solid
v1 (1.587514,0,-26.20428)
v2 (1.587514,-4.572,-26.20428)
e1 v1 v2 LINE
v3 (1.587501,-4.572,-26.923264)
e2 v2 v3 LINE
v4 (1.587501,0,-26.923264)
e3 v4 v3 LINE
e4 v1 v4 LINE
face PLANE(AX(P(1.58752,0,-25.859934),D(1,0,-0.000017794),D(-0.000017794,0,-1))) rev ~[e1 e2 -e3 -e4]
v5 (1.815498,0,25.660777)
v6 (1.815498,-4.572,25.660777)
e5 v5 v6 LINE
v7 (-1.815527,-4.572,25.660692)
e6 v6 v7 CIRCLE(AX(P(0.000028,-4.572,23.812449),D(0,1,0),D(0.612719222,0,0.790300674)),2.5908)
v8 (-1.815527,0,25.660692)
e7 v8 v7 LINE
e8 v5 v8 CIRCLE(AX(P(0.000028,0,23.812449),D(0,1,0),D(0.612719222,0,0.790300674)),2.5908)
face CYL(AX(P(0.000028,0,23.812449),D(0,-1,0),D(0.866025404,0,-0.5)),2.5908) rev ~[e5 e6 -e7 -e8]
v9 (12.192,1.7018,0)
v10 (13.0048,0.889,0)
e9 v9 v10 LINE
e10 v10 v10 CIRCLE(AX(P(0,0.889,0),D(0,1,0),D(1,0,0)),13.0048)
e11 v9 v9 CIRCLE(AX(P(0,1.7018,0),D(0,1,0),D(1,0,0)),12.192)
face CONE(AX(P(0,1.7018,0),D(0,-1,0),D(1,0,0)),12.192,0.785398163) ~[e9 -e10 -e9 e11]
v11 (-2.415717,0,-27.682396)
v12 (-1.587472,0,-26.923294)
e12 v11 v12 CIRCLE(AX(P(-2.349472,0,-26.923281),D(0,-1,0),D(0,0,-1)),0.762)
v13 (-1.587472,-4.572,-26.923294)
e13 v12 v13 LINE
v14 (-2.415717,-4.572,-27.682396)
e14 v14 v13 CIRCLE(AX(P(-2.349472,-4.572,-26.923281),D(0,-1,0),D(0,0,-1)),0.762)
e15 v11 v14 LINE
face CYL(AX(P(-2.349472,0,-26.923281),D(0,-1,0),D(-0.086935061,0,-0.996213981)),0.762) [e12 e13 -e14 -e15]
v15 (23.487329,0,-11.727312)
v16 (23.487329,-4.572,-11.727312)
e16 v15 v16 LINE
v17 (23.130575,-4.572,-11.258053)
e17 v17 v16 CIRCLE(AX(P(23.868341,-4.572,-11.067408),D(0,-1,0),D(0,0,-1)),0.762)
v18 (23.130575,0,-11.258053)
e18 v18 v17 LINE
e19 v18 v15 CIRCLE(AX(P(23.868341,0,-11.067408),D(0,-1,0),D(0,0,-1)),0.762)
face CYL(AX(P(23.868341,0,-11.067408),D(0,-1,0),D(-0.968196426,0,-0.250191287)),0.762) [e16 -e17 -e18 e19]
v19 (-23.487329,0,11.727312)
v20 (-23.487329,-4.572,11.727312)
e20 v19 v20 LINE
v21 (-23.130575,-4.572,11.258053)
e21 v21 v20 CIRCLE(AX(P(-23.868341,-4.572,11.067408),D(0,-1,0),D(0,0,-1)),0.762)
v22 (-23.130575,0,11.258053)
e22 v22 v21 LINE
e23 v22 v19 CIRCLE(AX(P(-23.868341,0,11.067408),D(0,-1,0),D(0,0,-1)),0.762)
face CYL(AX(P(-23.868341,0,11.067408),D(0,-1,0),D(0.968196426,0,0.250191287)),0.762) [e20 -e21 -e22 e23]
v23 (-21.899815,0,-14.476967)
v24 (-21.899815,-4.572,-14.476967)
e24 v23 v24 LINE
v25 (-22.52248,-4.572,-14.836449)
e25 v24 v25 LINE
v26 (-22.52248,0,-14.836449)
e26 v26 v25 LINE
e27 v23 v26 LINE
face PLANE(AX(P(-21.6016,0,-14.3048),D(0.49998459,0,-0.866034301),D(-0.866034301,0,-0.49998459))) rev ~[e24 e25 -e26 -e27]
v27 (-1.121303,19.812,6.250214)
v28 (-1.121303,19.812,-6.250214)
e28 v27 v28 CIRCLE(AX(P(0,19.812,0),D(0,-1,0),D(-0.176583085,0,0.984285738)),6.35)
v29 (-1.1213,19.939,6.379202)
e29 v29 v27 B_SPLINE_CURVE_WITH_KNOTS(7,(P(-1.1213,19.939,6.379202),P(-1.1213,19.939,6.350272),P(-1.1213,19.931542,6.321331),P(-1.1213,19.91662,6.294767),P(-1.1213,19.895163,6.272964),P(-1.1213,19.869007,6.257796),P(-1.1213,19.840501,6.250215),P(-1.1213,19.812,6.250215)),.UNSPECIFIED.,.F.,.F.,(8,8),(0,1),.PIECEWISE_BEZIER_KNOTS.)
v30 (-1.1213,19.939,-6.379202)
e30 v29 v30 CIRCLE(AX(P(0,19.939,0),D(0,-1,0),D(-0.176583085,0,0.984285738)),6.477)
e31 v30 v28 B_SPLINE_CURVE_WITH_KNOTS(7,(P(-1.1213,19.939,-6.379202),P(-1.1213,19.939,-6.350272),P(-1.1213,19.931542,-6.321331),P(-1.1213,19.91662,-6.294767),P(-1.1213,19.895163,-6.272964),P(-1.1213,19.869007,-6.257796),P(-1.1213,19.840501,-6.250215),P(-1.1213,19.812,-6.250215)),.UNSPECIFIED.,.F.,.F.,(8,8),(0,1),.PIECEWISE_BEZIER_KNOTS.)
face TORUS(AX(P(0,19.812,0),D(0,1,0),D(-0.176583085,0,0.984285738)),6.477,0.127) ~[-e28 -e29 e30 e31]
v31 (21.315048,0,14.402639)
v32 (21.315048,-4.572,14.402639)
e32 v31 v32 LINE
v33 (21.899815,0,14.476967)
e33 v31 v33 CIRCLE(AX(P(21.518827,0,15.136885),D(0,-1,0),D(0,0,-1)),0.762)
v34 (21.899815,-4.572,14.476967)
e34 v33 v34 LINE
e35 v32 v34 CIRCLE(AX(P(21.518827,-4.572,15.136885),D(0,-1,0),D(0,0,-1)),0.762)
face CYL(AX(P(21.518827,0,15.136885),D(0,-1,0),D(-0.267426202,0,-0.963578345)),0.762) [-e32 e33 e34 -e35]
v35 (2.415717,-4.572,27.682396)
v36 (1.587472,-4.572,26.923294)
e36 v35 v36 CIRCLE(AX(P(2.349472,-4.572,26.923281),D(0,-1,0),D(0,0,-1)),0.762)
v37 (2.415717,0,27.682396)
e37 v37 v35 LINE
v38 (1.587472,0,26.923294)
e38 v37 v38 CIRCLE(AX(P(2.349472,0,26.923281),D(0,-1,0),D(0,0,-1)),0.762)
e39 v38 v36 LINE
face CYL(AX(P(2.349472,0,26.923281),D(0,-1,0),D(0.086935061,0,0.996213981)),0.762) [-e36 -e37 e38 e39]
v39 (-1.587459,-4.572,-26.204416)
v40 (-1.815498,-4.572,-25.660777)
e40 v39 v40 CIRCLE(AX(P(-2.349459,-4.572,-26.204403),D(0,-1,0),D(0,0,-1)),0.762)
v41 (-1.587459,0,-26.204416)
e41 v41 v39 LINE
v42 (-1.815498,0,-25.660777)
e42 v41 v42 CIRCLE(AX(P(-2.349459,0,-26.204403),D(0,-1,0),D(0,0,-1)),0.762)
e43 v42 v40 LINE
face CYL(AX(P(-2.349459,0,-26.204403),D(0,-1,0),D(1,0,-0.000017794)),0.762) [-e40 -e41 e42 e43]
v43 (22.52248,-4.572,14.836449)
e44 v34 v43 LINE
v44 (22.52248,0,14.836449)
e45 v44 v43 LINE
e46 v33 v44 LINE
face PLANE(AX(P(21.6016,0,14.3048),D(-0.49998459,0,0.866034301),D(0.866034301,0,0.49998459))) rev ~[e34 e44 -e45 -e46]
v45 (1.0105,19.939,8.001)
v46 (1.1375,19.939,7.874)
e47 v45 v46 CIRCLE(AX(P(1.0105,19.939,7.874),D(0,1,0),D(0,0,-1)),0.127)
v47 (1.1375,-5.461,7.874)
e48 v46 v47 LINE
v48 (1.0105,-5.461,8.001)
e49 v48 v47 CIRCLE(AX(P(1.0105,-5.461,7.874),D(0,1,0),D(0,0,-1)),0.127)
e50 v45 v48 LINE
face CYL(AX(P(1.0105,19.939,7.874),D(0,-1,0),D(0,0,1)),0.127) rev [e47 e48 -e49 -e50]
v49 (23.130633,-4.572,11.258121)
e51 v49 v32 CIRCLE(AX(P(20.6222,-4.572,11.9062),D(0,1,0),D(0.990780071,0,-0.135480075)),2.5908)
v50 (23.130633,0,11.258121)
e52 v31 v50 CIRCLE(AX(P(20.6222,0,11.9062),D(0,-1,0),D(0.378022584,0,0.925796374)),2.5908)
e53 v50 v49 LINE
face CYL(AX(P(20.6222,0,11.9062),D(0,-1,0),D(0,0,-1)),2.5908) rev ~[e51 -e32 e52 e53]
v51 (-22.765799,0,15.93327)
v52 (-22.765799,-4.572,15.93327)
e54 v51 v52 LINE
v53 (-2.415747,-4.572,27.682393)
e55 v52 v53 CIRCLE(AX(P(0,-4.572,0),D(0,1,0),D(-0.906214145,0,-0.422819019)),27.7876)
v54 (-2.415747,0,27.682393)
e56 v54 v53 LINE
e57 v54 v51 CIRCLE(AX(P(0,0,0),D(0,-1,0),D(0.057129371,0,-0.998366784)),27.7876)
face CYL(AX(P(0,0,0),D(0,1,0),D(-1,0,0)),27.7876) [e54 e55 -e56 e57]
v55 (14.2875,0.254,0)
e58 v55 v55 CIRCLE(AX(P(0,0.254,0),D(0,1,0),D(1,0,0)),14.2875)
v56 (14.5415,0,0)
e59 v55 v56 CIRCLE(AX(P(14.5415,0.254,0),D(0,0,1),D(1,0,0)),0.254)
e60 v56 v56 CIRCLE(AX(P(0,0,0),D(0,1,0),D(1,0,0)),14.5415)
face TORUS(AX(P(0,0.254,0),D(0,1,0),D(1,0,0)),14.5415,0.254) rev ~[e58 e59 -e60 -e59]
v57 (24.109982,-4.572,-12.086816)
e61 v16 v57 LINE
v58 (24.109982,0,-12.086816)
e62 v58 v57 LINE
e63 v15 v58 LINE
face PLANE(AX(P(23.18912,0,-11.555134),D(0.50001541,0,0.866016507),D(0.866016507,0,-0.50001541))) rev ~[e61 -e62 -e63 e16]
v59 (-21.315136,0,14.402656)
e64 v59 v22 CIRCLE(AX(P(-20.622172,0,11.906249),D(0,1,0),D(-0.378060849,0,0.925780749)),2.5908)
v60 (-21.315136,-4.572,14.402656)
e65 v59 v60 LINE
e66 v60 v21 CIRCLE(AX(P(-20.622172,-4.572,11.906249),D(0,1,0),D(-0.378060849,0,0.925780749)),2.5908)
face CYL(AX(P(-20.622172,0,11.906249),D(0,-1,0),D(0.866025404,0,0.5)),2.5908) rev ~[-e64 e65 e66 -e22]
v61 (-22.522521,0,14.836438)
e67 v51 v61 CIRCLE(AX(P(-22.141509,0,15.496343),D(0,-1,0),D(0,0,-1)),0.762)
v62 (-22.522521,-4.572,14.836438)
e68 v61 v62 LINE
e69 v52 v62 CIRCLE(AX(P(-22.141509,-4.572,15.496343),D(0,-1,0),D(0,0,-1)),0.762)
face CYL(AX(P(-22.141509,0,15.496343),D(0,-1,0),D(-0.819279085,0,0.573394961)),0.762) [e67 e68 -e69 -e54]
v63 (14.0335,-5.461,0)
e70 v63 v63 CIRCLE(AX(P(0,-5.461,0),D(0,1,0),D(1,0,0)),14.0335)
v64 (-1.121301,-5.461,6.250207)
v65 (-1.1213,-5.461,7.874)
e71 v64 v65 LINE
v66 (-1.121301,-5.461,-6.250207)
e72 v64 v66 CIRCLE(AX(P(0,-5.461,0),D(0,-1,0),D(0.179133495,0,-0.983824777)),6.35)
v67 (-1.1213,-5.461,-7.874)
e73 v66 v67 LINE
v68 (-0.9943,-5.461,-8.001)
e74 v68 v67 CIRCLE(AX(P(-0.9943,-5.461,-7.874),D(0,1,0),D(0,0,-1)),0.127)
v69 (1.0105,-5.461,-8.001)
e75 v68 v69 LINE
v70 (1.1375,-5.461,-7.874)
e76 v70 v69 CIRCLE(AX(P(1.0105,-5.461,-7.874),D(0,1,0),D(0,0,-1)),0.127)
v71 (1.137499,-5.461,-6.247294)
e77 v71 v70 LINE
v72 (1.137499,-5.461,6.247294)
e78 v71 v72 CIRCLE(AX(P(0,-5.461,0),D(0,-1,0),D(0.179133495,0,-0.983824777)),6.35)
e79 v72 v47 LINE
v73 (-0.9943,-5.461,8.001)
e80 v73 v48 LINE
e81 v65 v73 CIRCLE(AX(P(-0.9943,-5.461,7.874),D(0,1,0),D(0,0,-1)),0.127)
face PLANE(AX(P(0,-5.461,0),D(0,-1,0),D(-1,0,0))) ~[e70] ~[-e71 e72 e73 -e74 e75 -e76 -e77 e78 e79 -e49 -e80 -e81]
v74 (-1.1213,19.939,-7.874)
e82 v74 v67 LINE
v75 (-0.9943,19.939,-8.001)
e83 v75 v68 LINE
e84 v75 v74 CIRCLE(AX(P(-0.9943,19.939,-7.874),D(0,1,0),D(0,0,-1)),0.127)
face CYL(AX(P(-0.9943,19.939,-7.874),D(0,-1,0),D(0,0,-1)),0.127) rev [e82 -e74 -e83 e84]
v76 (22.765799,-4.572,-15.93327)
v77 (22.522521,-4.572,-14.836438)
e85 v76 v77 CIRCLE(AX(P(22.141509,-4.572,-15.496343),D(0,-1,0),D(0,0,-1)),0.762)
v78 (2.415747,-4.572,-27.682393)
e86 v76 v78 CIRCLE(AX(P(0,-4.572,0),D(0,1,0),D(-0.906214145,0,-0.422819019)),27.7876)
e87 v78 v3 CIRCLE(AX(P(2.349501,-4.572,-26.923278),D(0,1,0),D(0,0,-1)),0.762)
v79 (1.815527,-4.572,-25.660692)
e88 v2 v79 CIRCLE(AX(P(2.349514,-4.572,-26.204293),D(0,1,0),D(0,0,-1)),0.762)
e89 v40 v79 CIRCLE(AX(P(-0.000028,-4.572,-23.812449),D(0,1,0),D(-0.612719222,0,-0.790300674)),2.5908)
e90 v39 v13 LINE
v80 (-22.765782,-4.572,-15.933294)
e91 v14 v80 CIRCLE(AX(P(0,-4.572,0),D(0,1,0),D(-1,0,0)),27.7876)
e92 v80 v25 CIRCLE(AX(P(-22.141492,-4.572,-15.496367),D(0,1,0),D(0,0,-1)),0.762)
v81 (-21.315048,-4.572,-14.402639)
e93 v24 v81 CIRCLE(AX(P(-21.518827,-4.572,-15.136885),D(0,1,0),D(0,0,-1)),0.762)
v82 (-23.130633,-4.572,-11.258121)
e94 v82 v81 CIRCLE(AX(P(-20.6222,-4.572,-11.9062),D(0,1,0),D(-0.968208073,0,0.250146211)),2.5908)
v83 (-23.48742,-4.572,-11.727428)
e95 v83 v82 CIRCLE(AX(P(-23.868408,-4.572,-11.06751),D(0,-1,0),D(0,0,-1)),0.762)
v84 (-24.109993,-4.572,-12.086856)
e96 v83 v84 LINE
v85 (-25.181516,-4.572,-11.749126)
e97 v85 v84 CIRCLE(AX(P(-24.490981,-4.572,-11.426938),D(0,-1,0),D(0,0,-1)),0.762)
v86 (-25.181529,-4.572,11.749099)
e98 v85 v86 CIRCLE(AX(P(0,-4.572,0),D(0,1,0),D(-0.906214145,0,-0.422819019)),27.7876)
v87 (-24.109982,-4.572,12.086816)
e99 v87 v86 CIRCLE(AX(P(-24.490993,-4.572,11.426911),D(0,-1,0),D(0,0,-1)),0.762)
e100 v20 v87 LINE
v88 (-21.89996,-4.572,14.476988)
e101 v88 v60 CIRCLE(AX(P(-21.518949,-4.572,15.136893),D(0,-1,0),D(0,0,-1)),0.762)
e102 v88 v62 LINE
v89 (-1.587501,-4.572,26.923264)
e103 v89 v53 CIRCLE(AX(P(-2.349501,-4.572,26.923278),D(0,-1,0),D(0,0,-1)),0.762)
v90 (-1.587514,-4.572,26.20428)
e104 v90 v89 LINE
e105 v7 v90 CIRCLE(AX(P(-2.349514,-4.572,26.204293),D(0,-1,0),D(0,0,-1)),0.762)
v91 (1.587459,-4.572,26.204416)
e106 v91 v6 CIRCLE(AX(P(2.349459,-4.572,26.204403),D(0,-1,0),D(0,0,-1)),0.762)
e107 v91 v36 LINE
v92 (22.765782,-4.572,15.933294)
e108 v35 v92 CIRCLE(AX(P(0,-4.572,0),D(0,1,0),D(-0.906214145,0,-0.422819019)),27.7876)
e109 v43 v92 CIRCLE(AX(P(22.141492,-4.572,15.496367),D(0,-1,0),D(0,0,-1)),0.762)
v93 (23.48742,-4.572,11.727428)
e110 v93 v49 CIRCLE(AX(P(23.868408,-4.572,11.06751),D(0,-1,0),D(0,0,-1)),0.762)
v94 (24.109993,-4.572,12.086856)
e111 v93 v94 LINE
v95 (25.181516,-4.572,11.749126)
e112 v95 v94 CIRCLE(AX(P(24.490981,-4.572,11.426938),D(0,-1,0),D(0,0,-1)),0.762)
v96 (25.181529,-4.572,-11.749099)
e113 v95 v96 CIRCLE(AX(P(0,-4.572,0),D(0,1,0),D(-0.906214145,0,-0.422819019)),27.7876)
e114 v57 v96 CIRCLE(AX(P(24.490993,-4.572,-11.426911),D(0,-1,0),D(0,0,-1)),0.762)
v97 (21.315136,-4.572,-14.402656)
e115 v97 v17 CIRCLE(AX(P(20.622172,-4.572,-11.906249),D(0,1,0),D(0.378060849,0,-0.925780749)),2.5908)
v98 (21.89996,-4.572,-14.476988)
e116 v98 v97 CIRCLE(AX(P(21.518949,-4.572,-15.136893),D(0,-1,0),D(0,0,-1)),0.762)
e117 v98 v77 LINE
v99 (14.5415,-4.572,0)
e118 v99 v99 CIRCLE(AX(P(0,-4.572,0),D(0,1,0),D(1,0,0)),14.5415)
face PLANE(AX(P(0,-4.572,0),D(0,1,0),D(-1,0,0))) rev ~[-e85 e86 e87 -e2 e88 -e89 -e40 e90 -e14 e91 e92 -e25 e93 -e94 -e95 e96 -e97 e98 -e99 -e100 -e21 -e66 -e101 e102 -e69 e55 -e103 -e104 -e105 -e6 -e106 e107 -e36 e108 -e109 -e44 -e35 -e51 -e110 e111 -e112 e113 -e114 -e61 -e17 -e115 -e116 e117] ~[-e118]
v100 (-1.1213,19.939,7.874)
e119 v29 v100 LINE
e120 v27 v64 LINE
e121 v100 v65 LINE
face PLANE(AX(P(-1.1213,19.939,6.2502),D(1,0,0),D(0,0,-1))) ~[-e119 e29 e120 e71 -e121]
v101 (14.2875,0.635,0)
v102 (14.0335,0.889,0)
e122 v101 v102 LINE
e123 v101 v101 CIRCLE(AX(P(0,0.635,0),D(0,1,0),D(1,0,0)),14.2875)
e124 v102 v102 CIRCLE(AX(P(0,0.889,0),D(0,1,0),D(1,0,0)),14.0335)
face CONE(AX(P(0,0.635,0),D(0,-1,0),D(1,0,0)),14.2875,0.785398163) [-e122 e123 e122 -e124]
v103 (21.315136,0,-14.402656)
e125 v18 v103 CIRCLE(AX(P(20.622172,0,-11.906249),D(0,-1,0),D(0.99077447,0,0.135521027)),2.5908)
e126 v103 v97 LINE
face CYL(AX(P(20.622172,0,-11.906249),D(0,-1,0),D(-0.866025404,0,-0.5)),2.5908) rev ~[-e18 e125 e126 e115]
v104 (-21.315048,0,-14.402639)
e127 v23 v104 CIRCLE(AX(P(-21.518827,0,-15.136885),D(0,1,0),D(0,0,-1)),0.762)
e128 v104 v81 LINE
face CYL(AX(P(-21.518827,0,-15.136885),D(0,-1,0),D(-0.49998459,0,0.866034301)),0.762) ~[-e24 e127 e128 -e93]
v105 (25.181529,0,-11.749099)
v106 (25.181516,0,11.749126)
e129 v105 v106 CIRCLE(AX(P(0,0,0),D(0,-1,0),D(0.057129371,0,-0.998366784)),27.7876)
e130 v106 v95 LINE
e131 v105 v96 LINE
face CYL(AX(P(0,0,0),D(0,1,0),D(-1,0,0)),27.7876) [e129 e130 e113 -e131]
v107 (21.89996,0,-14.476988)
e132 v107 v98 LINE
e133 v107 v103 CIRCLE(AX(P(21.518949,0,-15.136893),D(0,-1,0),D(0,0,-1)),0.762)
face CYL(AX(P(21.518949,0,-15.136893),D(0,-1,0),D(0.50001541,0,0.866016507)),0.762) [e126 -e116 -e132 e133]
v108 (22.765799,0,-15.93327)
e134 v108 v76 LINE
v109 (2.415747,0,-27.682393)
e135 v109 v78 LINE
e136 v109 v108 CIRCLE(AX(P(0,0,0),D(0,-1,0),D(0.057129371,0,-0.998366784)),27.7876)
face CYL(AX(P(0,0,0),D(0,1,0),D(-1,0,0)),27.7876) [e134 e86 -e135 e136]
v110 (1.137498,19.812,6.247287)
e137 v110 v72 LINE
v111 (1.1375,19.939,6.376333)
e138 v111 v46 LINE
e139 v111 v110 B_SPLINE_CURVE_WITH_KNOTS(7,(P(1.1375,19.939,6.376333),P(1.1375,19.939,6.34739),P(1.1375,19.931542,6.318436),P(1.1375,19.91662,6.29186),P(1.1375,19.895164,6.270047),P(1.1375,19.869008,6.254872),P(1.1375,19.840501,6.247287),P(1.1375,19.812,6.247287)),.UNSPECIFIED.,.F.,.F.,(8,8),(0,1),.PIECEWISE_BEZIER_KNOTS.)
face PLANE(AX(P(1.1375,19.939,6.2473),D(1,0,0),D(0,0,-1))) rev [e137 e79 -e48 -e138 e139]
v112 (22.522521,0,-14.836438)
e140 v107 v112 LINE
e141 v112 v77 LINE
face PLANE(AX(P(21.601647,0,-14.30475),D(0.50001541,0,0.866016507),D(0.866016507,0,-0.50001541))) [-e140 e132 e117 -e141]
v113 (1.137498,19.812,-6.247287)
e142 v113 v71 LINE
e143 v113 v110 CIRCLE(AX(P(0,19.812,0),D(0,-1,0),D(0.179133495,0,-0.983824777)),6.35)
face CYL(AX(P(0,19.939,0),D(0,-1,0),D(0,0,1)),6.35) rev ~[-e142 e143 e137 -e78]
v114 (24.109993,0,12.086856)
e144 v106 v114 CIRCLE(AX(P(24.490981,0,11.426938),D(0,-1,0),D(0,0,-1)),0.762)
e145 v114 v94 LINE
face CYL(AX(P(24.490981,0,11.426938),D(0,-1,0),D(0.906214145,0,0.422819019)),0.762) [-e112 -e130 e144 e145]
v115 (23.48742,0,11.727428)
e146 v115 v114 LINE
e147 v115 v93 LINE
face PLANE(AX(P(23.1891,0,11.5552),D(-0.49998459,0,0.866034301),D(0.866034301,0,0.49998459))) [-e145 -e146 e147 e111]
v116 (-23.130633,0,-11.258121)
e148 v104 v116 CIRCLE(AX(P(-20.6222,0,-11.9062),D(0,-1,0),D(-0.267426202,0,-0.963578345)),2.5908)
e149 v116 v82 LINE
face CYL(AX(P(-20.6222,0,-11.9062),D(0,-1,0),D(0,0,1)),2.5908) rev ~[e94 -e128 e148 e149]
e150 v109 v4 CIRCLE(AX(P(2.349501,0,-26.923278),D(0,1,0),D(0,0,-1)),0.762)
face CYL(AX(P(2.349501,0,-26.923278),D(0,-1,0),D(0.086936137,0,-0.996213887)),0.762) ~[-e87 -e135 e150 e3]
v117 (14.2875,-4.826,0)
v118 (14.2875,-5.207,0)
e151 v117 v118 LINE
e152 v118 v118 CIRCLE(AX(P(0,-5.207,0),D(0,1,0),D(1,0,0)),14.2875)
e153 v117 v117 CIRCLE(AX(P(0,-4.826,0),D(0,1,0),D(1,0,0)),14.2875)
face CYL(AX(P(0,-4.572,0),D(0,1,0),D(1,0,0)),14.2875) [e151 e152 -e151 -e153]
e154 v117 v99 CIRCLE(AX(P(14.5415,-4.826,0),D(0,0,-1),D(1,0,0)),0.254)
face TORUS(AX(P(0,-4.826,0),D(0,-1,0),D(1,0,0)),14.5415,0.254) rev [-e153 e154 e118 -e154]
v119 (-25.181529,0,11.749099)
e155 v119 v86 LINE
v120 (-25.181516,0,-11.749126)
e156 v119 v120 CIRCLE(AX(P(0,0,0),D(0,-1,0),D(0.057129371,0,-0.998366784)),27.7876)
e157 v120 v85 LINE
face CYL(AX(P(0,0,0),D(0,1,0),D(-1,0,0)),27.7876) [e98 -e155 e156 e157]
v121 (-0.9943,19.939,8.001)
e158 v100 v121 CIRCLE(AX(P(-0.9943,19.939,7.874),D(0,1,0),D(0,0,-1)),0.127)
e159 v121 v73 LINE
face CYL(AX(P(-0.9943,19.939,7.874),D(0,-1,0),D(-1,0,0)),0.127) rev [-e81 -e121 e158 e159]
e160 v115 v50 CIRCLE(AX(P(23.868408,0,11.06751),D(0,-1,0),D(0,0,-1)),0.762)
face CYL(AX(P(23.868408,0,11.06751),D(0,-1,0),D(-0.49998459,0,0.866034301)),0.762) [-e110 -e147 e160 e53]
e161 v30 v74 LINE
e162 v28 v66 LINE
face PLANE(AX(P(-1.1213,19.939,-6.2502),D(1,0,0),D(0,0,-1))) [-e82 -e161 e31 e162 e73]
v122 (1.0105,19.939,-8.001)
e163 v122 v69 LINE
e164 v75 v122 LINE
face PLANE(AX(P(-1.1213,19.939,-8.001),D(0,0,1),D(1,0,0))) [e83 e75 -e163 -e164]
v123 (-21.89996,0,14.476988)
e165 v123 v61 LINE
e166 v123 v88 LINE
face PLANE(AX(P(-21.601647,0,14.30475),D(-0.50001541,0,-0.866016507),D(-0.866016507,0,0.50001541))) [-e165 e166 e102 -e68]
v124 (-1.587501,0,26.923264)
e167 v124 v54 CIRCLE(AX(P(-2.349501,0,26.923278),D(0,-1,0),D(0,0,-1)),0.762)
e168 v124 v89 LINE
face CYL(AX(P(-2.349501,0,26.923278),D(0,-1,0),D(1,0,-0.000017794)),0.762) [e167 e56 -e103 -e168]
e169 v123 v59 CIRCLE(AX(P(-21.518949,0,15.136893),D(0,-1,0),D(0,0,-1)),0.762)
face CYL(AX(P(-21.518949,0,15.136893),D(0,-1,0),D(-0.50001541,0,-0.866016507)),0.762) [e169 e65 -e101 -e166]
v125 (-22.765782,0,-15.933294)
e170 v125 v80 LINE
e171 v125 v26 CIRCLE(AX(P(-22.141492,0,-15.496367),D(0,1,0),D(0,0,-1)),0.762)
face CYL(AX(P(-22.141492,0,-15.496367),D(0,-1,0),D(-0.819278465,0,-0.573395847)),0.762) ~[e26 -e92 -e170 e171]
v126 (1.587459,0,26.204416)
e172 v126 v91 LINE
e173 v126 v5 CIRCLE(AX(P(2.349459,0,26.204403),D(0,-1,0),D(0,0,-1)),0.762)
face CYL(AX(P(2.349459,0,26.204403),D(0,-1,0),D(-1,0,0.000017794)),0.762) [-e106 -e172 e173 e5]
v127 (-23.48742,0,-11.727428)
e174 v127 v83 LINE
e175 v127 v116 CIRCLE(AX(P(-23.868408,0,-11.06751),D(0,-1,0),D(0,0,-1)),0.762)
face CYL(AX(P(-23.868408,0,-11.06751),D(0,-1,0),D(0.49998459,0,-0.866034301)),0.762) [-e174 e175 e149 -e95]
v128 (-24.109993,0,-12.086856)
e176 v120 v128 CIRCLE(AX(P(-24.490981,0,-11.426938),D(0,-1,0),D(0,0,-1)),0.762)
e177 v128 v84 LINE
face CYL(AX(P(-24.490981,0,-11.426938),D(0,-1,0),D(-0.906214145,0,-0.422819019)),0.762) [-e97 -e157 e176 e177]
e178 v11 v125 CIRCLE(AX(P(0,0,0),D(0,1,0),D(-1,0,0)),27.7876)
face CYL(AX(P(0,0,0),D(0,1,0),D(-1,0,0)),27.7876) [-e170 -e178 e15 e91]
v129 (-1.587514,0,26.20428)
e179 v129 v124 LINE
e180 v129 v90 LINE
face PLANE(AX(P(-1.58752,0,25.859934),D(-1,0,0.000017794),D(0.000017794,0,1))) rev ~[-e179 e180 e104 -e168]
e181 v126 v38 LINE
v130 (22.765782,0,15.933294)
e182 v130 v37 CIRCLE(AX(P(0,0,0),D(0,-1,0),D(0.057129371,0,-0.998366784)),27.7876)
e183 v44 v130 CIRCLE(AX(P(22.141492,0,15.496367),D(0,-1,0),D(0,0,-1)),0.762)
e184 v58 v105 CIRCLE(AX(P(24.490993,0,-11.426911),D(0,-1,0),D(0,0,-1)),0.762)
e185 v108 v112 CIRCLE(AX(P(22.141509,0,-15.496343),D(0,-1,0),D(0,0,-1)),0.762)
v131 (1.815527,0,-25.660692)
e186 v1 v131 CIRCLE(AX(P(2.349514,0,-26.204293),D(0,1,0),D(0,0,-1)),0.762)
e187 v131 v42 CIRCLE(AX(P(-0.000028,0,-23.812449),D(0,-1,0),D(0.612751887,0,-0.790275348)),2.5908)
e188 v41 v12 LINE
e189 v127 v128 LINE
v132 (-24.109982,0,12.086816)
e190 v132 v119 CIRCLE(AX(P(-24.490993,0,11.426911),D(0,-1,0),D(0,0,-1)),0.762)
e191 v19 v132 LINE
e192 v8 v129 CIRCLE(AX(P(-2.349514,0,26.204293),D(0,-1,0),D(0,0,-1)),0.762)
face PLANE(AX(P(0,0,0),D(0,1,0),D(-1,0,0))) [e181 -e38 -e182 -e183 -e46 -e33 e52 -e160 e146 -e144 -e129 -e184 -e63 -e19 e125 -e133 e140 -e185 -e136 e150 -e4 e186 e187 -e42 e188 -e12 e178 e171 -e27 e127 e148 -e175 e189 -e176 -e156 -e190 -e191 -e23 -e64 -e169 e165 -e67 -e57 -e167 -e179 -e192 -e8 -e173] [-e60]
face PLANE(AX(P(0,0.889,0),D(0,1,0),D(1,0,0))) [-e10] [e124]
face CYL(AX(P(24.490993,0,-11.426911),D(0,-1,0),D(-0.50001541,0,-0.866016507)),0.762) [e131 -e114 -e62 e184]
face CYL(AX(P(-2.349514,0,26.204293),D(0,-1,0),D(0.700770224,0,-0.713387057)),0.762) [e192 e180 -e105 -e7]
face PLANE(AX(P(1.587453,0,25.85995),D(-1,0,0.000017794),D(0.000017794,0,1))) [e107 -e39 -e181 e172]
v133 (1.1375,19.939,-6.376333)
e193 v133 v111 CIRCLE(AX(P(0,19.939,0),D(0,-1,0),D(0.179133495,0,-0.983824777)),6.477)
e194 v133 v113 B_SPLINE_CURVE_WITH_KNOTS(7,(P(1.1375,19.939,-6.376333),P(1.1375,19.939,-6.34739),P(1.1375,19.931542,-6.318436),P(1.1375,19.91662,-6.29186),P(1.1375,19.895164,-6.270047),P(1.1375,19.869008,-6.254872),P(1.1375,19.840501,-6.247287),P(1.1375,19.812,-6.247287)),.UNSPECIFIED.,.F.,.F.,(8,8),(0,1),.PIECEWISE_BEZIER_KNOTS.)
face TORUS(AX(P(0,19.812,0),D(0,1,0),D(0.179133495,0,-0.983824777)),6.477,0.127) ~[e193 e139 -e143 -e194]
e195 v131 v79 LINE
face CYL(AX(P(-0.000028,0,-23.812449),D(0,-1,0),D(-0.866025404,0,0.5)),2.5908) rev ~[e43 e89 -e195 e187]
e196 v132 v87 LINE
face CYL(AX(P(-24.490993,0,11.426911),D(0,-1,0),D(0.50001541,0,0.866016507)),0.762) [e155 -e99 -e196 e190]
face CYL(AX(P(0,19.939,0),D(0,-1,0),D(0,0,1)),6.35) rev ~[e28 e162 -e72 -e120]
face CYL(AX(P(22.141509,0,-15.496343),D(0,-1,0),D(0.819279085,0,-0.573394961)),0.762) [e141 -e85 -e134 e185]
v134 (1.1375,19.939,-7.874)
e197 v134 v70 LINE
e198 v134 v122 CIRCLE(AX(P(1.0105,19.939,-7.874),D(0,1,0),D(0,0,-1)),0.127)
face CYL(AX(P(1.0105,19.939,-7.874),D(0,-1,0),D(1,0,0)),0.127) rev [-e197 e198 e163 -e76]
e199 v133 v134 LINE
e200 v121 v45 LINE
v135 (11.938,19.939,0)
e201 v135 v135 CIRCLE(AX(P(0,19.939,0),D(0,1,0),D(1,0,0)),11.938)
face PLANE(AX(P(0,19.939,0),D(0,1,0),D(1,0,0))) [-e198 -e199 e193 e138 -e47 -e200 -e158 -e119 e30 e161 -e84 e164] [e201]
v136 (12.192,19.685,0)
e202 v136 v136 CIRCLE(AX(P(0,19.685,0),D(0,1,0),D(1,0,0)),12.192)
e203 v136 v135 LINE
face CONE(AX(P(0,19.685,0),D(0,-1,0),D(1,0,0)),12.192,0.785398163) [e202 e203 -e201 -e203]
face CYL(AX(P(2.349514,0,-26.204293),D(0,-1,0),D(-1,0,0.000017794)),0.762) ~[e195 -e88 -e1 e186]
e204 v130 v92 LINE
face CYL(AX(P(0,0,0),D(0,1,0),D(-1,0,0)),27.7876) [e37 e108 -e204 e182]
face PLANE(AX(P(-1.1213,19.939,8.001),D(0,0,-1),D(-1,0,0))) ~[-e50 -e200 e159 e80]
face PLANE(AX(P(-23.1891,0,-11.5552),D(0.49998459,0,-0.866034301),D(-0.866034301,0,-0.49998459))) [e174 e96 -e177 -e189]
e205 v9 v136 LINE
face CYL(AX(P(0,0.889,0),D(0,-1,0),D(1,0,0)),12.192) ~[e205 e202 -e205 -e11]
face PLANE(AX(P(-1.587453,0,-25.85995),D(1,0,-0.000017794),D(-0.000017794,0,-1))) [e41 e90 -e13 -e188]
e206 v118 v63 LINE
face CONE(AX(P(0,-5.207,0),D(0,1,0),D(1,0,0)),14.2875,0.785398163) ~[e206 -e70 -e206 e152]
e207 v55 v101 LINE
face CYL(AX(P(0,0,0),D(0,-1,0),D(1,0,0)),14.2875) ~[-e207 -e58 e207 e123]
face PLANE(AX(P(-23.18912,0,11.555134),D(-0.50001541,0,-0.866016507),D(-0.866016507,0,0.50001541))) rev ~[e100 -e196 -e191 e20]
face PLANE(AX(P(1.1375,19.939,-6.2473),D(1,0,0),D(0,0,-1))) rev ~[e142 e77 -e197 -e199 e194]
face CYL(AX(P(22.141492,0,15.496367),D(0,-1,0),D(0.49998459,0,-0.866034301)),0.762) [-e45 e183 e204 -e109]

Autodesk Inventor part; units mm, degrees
ref_plane "YZ Plane" through (0, 0, 0) normal (1, 0, 0) x (0, 1, 0)
ref_plane "XZ Plane" through (0, 0, 0) normal (0, 1, 0) x (-1, 0, 0)
sketch "Sketch1" plane through (0, 0, 0) normal (0, 1, 0) x (-1, 0, 0)
  circle A0 centre (0, 0) radius 27.7876
  circle A1 centre (0, 0) radius 23.8125 construction
  line L0 (0, 0) -> (28.7391, -16.5925) construction
  line L1 (0, 0) -> (27.7876, 0) construction
  dimension "d0" = 55.5752
  dimension "d1" = 47.625
  dimension "d2" = 30
extrude "Extrusion1" add sketch "Sketch1" against normal blind 4.572
sketch "Sketch2" plane through (0, 0, 0) normal (0, 1, 0) x (1, 0, 0)
  circle A0 centre (0, 0) radius 23.8125 construction
  line L0 (0, 0) -> (-24.0648, 13.8938) construction
  circle A1 centre (0, 0) radius 27.7876 construction
  line L1 (0, 0) -> (27.7876, 0) construction
  point P0 (-20.6222, 11.9062)
  dimension "d5" = 47.625
  dimension "d6" = 150
hole "Hole1" at (-20.6222, 0, -11.9062) direction (0, -1, 0) diameter 5.1816 end through all
sketch "Sketch3" plane through (0, 0, 0) normal (0, 1, 0) x (1, 0, 0)
  circle A0 centre (-20.6222, 11.9062) radius 2.5908 projected
  line L0 (0, 0) -> (-20.6222, 11.9062) construction
  line L1 (-23.1891, 11.5552) -> (-24.8192, 12.4963)
  line L2 (-21.6016, 14.3048) -> (-23.2317, 15.2459)
  circle A1 centre (0, 0) radius 27.7876 projected
  dimension "d14" = 3.175
  dimension "d15" = 1.5875
extrude "Extrusion2" cut sketch "Sketch3" against normal blind 7.9375 contours A0 L1 A1 L2 picked at (-23.1856, 14.4185)
fillet "Fillet1" radius 0.762 4 edges at (-23.1891, -2.286, -11.5552) (-24.8192, -2.286, -12.4963) (-21.6016, -2.286, -14.3048) (-23.2317, -2.286, -15.2459)
pattern_circular "Circular Pattern1" count 6 over 360 about axis through (0, 0, 0) along (0, -1, 0) of "Hole1", "Extrusion2", "Fillet1"
sketch "Sketch4" plane through (0, 0, 0) normal (0, 1, 0) x (1, 0, 0)
  circle A0 centre (0, 0) radius 14.2875
  dimension "d22" = 28.575
extrude "Extrusion3" add sketch "Sketch4" along normal blind 0.889
chamfer "Chamfer1" distance 0.254 angle 45 1 edges at (-14.2875, 0.889, 0)
fillet "Fillet2" radius 0.254 1 edges at (-14.2875, 0, 0)
ref_plane "Work Plane1" through (0, -2.286, 0) normal (0, 1, 0) x (1, 0, 0)
mirror "Mirror1" about plane through (0, -2.286, 0) normal (0, 1, 0) of "Extrusion3"
chamfer "Chamfer2" distance 0.254 angle 45 1 edges at (-14.2875, -5.461, 0)
fillet "Fillet3" radius 0.254 1 edges at (-14.2875, -4.572, 0)
sketch "Sketch5" plane through (0, 0.889, 0) normal (0, 1, 0) x (1, 0, 0)
  circle A0 centre (0, 0) radius 12.192
  dimension "d33" = 24.384
extrude "Extrusion4" add sketch "Sketch5" along normal blind 19.05
chamfer "Chamfer3" distance 0.254 angle 45 1 edges at (-12.192, 19.939, 0)
chamfer "Chamfer4" distance 0.8128 angle 45 1 edges at (-12.192, 0.889, 0)
sketch "Sketch6" plane through (0, 19.939, 0) normal (0, 1, 0) x (1, 0, 0)
  point P0 (0, 0)
hole "Hole2" at (0, 19.939, 0) direction (0, -1, 0) diameter 12.7 end through all
sketch "Sketch7" plane through (0, 19.939, 0) normal (0, 1, 0) x (1, 0, 0)
  line L0 (-1.1213, 6.2502) -> (-1.1213, 8.001)
  line L1 (1.1375, 6.2473) -> (1.1375, 8.001)
  line L2 (-1.1213, 8.001) -> (1.1375, 8.001)
  circle A0 centre (0, 0) radius 6.35 projected
  dimension "d49" = 8.001
extrude "Extrusion5" cut sketch "Sketch7" against normal through all contours L0 L2 L1 A0
mirror "Mirror2" about plane through (0, 0, 0) normal (0, 0, 1) of "Extrusion5"
fillet "Fillet4" radius 0.127 4 edges at (-1.1213, 7.239, -8.001) (1.1375, 7.239, -8.001) (-1.1213, 7.239, 8.001) (1.1375, 7.239, 8.001)
fillet "Fillet5" radius 0.127 2 edges at (-6.35, 19.939, 0) (6.35, 19.939, 0)
equation "\"d15\" = 0.5 * d14"
properties part number "am-0976" material "Aluminum 6061"
